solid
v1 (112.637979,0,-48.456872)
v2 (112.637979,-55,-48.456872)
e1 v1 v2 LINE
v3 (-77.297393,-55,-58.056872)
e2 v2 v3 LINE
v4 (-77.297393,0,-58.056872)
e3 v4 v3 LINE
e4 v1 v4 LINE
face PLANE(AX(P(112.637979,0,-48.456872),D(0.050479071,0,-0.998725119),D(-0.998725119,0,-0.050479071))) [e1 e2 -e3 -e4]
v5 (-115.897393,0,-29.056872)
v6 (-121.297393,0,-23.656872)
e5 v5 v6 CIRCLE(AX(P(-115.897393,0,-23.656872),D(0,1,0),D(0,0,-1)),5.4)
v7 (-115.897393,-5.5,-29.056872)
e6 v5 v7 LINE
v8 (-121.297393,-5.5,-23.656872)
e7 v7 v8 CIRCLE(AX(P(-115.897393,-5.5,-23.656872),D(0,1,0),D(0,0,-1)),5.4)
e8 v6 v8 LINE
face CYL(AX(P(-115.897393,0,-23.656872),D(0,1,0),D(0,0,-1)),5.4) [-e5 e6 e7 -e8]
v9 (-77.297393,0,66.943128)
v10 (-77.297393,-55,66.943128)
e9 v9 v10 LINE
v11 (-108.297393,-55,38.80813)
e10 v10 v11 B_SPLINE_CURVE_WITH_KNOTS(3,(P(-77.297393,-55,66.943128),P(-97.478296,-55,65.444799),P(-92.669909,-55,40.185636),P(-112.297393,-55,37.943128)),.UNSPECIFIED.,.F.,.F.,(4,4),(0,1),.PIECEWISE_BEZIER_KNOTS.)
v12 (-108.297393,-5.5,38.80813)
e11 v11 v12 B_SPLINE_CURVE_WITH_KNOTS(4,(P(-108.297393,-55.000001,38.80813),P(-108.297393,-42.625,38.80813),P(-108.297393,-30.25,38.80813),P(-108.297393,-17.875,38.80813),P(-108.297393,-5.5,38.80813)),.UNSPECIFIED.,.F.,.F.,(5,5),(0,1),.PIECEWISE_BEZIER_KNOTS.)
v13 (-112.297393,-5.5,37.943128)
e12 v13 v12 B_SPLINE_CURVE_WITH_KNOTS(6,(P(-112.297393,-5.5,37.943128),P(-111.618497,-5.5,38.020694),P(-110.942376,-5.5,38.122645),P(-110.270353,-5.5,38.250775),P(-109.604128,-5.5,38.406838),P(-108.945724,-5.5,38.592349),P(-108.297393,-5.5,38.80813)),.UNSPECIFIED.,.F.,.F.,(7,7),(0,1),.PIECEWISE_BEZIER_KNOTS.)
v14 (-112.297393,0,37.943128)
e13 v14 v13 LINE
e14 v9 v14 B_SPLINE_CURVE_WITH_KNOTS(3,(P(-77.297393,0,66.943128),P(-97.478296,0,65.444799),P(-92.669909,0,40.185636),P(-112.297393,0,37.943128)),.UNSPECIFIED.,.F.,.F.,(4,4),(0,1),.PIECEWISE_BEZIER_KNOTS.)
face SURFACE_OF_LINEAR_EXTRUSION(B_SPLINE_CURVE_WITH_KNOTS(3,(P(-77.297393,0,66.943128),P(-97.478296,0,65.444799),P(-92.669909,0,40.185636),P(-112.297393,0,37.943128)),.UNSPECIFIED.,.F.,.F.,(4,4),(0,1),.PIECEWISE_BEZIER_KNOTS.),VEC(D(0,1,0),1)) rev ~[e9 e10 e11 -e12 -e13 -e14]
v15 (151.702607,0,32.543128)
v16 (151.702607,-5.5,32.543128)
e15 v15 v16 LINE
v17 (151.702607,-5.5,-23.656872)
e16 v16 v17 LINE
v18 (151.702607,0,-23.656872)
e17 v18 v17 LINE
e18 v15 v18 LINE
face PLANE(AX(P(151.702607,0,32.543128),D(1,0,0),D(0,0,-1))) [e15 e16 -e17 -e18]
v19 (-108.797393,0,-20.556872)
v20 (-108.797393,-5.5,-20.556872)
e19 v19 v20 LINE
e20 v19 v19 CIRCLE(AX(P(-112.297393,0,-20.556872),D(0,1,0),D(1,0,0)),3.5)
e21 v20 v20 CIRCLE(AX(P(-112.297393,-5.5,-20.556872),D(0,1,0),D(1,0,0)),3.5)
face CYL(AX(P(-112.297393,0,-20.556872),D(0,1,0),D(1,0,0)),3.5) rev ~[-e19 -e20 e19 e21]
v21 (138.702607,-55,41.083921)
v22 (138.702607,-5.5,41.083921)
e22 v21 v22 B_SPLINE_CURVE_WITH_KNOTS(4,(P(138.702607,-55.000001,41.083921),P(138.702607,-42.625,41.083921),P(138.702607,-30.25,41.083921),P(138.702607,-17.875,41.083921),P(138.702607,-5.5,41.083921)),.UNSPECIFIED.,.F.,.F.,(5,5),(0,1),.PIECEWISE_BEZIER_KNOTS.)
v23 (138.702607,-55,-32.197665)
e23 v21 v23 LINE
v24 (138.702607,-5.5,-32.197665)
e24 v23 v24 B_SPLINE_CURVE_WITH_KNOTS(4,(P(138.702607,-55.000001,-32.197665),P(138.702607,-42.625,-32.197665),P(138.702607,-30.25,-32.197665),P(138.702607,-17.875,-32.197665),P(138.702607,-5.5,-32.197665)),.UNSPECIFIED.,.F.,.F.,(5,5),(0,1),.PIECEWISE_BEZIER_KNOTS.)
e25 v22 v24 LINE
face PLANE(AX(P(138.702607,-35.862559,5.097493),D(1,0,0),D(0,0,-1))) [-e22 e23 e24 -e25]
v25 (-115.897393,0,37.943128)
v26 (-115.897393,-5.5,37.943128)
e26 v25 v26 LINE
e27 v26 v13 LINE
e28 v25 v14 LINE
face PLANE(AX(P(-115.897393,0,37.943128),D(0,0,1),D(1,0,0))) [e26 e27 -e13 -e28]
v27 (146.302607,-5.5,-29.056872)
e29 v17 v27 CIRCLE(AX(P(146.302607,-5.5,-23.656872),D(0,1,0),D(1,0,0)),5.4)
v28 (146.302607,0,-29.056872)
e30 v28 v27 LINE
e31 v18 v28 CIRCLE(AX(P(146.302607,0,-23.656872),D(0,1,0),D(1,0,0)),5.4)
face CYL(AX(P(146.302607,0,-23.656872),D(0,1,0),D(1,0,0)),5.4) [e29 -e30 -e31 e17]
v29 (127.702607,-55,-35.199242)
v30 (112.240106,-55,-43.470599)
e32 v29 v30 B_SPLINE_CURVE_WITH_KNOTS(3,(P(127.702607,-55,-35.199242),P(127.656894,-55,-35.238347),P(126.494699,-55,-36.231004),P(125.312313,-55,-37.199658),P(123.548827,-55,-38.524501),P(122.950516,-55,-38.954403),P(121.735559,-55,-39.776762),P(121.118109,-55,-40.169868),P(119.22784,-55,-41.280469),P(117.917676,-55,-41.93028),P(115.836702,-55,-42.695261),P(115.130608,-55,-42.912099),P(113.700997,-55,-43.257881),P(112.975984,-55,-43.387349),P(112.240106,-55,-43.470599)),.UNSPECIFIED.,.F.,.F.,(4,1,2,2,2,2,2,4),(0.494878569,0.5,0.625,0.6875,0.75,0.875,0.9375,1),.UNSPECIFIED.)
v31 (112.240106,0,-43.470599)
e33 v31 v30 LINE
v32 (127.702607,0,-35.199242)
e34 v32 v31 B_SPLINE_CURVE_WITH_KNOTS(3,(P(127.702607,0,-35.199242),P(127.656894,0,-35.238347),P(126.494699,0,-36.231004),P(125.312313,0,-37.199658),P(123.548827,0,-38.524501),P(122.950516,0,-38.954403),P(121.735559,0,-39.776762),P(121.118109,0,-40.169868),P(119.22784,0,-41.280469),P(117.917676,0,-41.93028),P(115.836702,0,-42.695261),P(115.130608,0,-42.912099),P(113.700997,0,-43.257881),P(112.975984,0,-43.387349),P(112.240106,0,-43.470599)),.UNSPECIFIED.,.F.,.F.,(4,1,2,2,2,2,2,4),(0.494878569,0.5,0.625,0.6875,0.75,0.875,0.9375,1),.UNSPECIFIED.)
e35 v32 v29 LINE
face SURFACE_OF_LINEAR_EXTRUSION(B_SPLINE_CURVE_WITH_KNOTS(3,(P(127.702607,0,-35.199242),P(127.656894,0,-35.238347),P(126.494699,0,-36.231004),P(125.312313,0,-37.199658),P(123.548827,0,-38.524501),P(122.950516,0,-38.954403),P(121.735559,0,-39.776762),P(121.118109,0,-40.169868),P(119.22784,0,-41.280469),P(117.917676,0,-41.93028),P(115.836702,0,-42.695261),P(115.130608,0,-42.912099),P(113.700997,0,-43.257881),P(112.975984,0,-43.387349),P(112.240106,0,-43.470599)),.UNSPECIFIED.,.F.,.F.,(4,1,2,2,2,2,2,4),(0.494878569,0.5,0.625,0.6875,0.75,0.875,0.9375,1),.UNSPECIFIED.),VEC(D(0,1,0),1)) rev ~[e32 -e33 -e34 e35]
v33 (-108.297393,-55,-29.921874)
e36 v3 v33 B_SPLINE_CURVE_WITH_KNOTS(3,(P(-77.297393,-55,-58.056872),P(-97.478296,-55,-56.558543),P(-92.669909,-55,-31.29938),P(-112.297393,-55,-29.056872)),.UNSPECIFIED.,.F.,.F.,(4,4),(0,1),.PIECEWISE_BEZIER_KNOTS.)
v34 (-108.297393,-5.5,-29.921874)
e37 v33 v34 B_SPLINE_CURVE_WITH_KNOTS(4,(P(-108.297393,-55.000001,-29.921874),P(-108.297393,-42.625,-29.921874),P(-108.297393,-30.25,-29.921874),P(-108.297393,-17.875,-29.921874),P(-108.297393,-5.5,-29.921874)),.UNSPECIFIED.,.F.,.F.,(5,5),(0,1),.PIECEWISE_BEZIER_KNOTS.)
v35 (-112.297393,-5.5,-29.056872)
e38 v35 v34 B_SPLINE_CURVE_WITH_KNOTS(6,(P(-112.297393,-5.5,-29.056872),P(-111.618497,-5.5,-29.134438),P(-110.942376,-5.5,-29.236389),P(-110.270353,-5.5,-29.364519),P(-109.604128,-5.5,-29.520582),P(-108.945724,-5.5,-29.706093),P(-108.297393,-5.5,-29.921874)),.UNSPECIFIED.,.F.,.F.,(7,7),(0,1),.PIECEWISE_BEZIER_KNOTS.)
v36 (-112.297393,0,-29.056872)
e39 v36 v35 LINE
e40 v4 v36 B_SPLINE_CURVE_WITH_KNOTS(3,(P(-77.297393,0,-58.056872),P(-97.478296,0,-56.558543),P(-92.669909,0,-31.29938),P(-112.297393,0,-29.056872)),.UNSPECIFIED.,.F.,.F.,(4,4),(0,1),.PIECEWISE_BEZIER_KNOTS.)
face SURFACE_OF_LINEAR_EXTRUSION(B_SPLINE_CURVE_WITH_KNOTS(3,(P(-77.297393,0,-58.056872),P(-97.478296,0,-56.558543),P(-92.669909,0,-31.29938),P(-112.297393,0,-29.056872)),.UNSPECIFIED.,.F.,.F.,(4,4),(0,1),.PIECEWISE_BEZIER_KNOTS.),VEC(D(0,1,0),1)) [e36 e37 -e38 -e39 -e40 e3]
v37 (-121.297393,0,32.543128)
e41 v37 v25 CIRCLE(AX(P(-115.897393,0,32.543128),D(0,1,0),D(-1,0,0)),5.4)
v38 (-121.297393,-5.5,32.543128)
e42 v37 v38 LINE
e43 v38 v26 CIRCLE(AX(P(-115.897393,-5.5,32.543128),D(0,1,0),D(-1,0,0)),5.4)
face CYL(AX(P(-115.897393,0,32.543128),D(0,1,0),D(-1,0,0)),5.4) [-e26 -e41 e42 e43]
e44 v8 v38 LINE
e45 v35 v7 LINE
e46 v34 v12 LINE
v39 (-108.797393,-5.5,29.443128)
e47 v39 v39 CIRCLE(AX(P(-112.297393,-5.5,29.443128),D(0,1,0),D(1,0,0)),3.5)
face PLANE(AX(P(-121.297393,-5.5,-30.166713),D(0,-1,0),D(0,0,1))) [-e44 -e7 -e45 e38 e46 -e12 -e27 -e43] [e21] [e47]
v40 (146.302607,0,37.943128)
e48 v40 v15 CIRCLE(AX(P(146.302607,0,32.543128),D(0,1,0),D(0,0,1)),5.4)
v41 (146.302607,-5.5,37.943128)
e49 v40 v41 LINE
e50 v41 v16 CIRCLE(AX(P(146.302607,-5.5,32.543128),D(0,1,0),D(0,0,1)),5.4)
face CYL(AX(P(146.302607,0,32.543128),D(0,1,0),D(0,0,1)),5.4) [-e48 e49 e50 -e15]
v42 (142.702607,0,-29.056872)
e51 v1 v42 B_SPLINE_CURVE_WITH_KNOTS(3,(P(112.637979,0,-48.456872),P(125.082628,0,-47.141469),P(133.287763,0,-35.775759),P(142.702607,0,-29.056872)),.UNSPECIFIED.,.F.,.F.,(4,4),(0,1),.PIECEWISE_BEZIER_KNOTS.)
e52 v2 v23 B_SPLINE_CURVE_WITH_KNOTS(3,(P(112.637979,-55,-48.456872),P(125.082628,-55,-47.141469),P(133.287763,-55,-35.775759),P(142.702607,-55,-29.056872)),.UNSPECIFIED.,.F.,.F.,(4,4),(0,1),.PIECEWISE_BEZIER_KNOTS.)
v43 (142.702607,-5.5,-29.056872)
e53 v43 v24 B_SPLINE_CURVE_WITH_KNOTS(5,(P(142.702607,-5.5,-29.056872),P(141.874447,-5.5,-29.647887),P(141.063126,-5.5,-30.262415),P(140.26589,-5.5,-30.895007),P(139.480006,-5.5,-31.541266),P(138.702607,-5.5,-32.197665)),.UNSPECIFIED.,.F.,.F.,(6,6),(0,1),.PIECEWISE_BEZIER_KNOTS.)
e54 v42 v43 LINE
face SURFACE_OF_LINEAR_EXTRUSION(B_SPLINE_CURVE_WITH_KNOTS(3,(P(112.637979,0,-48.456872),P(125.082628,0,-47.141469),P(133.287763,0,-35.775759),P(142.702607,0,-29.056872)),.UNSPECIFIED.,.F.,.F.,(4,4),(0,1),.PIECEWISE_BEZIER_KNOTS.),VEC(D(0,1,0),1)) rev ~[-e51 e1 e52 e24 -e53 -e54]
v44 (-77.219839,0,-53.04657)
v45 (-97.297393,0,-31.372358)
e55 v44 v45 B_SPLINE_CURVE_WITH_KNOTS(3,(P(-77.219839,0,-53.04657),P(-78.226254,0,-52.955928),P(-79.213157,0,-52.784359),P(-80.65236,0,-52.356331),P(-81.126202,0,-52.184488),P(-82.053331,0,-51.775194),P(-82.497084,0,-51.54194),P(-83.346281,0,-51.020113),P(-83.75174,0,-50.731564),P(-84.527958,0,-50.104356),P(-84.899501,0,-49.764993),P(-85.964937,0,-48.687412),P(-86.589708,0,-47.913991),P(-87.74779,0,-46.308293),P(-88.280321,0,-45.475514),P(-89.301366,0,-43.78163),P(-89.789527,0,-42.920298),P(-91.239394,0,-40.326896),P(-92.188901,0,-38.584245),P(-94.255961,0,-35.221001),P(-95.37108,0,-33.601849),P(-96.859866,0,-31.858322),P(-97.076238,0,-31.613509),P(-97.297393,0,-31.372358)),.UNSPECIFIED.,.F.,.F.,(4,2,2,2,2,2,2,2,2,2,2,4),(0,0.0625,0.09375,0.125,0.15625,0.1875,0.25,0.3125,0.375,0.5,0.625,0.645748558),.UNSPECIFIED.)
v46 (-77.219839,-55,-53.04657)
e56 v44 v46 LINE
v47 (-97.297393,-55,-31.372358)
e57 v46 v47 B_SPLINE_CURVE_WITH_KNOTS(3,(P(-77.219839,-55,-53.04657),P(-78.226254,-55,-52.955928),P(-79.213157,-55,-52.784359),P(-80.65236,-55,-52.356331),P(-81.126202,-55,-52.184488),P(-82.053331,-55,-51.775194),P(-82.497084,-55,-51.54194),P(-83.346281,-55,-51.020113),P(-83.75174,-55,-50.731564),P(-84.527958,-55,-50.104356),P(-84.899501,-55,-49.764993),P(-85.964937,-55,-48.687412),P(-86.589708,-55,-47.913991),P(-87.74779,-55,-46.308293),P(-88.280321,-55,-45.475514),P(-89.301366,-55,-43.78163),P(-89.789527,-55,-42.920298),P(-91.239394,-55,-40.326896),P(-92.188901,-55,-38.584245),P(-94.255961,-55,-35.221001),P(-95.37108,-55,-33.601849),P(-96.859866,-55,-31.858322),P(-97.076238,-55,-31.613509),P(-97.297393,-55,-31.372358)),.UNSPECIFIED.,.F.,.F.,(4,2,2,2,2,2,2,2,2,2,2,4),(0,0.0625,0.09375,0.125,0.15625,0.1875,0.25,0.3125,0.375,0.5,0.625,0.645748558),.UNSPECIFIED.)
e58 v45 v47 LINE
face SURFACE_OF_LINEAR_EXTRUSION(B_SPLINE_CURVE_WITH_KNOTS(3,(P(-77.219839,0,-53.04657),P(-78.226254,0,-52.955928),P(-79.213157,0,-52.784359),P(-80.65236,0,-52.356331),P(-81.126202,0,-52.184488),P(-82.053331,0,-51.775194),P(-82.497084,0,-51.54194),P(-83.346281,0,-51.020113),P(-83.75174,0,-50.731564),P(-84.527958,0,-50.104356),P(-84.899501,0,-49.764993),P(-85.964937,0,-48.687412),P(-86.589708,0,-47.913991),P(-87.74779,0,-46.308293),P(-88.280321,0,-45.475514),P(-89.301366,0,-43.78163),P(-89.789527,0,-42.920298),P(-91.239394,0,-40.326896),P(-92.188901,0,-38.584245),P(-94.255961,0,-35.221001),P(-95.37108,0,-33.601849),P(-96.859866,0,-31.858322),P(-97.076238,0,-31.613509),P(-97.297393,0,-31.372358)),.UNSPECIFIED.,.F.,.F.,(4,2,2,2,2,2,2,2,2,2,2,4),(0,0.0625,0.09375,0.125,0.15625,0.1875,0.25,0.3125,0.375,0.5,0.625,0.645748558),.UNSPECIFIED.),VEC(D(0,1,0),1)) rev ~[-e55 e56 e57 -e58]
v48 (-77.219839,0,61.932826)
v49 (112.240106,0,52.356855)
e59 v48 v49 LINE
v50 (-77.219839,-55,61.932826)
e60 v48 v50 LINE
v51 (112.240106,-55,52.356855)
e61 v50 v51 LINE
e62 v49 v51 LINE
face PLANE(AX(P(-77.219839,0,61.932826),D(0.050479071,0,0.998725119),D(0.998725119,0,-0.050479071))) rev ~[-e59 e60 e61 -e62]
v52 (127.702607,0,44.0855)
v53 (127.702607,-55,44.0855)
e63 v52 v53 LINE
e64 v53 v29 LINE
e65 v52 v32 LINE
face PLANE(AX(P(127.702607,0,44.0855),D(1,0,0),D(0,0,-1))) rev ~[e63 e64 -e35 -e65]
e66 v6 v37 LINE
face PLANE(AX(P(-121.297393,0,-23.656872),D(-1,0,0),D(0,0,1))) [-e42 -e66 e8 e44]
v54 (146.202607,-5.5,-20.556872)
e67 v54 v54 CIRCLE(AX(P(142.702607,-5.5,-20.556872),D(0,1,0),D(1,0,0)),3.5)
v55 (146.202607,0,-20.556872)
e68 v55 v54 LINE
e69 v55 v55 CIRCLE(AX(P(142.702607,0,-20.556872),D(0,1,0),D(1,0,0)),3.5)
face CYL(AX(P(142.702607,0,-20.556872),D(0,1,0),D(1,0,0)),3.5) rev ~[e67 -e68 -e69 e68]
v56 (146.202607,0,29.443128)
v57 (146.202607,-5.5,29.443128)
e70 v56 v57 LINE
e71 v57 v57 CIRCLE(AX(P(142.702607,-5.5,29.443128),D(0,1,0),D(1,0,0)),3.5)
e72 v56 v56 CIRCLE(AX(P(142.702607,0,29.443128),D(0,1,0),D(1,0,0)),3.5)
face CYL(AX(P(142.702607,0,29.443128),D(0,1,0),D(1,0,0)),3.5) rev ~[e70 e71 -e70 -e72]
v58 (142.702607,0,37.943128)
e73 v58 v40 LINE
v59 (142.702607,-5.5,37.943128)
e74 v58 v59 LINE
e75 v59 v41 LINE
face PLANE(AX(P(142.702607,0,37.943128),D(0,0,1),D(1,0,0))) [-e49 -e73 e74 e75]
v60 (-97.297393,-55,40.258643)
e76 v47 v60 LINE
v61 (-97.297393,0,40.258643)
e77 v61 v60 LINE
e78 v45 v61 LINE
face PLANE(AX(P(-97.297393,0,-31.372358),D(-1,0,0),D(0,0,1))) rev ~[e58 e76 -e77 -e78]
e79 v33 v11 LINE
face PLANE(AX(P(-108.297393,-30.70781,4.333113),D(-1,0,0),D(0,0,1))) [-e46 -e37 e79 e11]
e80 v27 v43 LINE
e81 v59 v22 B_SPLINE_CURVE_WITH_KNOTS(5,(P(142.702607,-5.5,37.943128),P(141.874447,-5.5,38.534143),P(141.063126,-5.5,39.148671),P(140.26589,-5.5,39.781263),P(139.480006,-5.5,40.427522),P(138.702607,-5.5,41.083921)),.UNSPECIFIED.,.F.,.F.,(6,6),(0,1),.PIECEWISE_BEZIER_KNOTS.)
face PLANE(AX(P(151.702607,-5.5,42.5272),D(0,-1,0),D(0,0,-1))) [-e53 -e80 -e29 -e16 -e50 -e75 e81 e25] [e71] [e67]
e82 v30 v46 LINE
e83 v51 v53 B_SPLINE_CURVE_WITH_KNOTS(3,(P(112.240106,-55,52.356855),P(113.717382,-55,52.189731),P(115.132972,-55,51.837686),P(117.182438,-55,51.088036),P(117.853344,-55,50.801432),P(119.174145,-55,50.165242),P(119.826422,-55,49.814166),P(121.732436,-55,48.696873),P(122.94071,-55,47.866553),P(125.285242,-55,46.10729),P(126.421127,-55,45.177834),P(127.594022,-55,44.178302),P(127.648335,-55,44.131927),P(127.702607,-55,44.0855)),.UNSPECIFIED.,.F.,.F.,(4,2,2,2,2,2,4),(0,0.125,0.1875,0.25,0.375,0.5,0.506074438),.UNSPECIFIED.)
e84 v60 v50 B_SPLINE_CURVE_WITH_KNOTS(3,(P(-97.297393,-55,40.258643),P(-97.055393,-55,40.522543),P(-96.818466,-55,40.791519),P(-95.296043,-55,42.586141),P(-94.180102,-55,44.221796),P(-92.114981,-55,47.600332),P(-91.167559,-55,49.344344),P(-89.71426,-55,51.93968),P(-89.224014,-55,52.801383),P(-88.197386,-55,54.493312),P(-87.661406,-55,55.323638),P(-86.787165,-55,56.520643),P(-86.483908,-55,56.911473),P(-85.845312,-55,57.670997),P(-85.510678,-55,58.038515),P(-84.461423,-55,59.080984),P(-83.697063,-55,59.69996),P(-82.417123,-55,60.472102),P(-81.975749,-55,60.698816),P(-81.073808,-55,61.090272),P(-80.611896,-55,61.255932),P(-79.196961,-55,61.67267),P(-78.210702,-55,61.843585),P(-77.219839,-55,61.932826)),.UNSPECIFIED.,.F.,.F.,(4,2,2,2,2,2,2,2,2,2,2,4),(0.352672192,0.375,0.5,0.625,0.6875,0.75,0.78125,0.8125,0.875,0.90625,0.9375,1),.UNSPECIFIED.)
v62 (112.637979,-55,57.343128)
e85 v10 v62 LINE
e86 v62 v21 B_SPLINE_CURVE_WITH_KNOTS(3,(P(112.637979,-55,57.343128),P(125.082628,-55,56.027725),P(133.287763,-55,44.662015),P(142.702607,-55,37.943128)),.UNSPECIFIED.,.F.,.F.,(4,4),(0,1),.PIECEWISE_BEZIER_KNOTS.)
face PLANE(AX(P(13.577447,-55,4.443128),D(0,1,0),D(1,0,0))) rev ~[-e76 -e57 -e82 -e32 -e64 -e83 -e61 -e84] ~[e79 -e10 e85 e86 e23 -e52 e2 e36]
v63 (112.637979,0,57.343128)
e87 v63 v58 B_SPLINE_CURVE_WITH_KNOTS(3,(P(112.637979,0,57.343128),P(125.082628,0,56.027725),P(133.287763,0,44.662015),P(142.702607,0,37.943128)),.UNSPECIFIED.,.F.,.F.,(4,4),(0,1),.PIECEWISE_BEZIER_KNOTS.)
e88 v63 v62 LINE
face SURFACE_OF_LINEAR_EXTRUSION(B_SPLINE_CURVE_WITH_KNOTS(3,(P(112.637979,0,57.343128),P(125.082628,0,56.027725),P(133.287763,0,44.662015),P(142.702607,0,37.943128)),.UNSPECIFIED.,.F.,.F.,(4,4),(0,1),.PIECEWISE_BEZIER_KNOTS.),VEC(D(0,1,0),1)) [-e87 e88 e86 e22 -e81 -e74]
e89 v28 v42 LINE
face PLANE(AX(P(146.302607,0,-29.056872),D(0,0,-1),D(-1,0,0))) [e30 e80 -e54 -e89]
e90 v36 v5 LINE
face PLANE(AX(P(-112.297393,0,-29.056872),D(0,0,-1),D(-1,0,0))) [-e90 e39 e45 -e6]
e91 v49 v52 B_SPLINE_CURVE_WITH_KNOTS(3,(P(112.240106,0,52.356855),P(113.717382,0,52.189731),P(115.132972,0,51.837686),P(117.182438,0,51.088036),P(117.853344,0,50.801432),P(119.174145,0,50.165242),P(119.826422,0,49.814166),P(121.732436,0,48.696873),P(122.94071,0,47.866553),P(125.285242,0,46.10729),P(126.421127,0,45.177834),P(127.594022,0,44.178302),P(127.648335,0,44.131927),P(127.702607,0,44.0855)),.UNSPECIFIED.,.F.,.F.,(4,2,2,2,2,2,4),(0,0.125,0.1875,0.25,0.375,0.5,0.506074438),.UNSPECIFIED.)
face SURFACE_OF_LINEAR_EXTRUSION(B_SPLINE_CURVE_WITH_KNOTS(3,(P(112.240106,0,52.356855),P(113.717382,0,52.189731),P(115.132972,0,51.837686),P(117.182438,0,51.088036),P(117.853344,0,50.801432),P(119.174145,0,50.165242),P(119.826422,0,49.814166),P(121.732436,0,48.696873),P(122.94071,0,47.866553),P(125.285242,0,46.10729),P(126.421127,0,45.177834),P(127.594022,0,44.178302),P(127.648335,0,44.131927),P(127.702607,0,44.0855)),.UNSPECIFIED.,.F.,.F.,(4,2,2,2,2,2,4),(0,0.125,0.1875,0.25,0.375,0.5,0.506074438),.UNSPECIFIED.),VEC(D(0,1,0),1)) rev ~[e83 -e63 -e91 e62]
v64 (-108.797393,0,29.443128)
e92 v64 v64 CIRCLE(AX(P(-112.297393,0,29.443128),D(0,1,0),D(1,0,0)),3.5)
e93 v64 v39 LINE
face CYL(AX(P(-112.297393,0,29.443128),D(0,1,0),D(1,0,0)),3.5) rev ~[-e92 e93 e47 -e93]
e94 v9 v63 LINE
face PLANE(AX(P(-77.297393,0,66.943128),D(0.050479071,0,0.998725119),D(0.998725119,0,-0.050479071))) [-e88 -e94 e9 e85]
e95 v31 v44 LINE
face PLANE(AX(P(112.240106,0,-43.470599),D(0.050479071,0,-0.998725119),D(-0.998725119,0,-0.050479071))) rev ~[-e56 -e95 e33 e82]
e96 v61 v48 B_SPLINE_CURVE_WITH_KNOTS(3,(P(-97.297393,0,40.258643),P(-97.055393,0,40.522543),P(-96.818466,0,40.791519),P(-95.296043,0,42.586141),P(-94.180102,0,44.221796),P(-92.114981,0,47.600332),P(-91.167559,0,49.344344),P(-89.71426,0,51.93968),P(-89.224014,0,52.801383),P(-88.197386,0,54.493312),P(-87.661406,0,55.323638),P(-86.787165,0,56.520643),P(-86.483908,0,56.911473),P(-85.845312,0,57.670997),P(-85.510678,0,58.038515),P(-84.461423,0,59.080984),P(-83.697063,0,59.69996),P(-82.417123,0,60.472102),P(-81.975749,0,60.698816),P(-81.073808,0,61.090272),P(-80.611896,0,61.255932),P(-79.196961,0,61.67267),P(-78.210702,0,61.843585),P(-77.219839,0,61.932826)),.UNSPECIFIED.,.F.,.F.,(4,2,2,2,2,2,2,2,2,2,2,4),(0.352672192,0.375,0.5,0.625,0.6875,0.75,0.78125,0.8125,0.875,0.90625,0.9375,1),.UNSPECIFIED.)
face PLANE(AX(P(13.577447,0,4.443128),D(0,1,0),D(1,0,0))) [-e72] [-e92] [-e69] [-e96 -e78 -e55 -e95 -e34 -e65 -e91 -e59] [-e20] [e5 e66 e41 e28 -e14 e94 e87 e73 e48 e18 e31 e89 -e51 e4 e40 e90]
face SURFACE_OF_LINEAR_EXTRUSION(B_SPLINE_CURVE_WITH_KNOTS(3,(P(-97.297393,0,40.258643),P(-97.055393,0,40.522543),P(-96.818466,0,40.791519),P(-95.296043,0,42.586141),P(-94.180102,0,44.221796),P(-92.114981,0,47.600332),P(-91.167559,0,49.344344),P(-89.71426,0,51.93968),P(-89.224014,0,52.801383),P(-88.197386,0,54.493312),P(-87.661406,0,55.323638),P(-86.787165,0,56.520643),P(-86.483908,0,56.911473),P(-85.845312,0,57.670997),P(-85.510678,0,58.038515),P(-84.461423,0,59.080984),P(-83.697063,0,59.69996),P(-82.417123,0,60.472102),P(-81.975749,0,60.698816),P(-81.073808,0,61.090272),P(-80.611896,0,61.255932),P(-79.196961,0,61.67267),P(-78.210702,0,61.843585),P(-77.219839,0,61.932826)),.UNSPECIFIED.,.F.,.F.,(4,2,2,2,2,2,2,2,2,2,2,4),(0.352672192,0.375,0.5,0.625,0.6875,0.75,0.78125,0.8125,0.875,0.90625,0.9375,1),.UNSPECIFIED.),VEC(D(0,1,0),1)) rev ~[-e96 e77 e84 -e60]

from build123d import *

# Parameters (mm, degrees)
SKETCH1_R           = 3.5
BOSS_EXTRUDE2_DEPTH = 55
SKETCH7_W           = 68.999652055
SKETCH7_H           = 50.415620377
CUT_EXTRUDE5_DEPTH  = 13
SKETCH19_W          = 74.859412742
SKETCH19_H          = 60.725118028
CUT_EXTRUDE7_DEPTH  = 13
CUT_EXTRUDE9_DEPTH  = 55


with BuildPart() as part:
    # Sketch1 → Boss-Extrude2 (new body)
    with BuildSketch(Plane(origin=(0, 0, 0), x_dir=(1, 0, 0), z_dir=(0, 1, 0))):
        with BuildLine():
            Line((-77.297393365, -66.943127962), (112.637979465, -57.343127962))
            add(Edge.make_bspline(
                [(112.637979465, -57.343127962), (125.082628436, -56.027724614), (133.287763268, -44.662014668), (142.702606635, -37.943127962)],
                knots=[0, 0, 0, 0, 1, 1, 1, 1], degree=3))
            Line((142.702606635, -37.943127962), (146.202606635, -37.943127962))
            Line((146.202606635, -37.943127962), (146.302606635, -37.943127962))
            ThreePointArc((146.302606635, -37.943127962), (150.120983253, -36.36150458), (151.702606635, -32.543127962))
            Line((151.702606635, -32.543127962), (151.702606635, 23.656872038))
            ThreePointArc((151.702606635, 23.656872038), (150.120983253, 27.475248656), (146.302606635, 29.056872038))
            Line((146.302606635, 29.056872038), (146.202606635, 29.056872038))
            Line((146.202606635, 29.056872038), (142.702606635, 29.056872038))
            add(Edge.make_bspline(
                [(112.637979465, 48.456872038), (125.082628436, 47.14146869), (133.287763268, 35.775758744), (142.702606635, 29.056872038)],
                knots=[0, 0, 0, 0, 1, 1, 1, 1], degree=3))
            Line((112.637979465, 48.456872038), (-77.297393365, 58.056872038))
            add(Edge.make_bspline(
                [(-77.297393365, 58.056872038), (-97.47829568, 56.558543187), (-92.669908534, 31.299380259), (-112.297393365, 29.056872038)],
                knots=[0, 0, 0, 0, 1, 1, 1, 1], degree=3))
            Line((-112.297393365, 29.056872038), (-115.797393365, 29.056872038))
            Line((-115.797393365, 29.056872038), (-115.897393365, 29.056872038))
            ThreePointArc((-115.897393365, 29.056872038), (-119.715769983, 27.475248656), (-121.297393365, 23.656872038))
            Line((-121.297393365, 23.656872038), (-121.297393365, -32.543127962))
            ThreePointArc((-121.297393365, -32.543127962), (-119.715769983, -36.36150458), (-115.897393365, -37.943127962))
            Line((-115.897393365, -37.943127962), (-115.797393365, -37.943127962))
            Line((-115.797393365, -37.943127962), (-112.297393365, -37.943127962))
            add(Edge.make_bspline(
                [(-77.297393365, -66.943127962), (-97.47829568, -65.444799111), (-92.669908534, -40.185636183), (-112.297393365, -37.943127962)],
                knots=[0, 0, 0, 0, 1, 1, 1, 1], degree=3))
        make_face()
        with Locations((-112.297393365, 20.556872038)):
            Circle(SKETCH1_R, mode=Mode.SUBTRACT)
        with Locations((-112.297393365, -29.443127962)):
            Circle(SKETCH1_R, mode=Mode.SUBTRACT)
        with Locations((142.702606635, -29.443127962)):
            Circle(SKETCH1_R, mode=Mode.SUBTRACT)
        with Locations((142.702606635, 20.556872038)):
            Circle(SKETCH1_R, mode=Mode.SUBTRACT)
    extrude(amount=-BOSS_EXTRUDE2_DEPTH)

    # Sketch7 → Cut-Extrude5 (cut)
    with BuildSketch(Plane.ZY.offset(121.297393365)):
        with Locations((4.333112833, -30.707810189)):
            Rectangle(SKETCH7_W, SKETCH7_H)
    extrude(amount=-CUT_EXTRUDE5_DEPTH, mode=Mode.SUBTRACT)

    # Sketch19 → Cut-Extrude7 (cut)
    with BuildSketch(Plane(origin=(151.702606635, 0, 0), x_dir=(0, 0, -1), z_dir=(1, 0, 0))):
        with Locations((-5.097493458, -35.862559014)):
            Rectangle(SKETCH19_W, SKETCH19_H)
    extrude(amount=-CUT_EXTRUDE7_DEPTH, mode=Mode.SUBTRACT)

    # Sketch24 → Cut-Extrude9 (cut)
    with BuildSketch(Plane(origin=(0, 0, 0), x_dir=(1, 0, 0), z_dir=(0, 1, 0))):
        with BuildLine():
            Line((-97.297393365, 31.372357528), (-97.297393365, -40.258643174))
            add(Edge.make_bspline(
                [(-97.297393365, -40.258643174), (-97.055392699, -40.522543308), (-96.818465561, -40.791519395), (-95.29604309, -42.586141239), (-94.180102109, -44.221795649), (-92.114981147, -47.600331907), (-91.167558943, -49.344344007), (-89.714260063, -51.939679671), (-89.224013692, -52.801383116), (-88.197386212, -54.493312492), (-87.661405753, -55.323638026), (-86.787164869, -56.520642624), (-86.483908233, -56.911472942), (-85.845311529, -57.670997258), (-85.510678135, -58.038515471), (-84.461423347, -59.080983609), (-83.697062972, -59.699960103), (-82.417122679, -60.472101656), (-81.975749173, -60.698816325), (-81.073807536, -61.09027214), (-80.611895531, -61.255932259), (-79.196960523, -61.672670039), (-78.210701758, -61.84358461), (-77.219838786, -61.93282554)],
                knots=[0.352672192, 0.352672192, 0.352672192, 0.352672192, 0.375, 0.375, 0.5, 0.5, 0.625, 0.625, 0.6875, 0.6875, 0.75, 0.75, 0.78125, 0.78125, 0.8125, 0.8125, 0.875, 0.875, 0.90625, 0.90625, 0.9375, 0.9375, 1, 1, 1, 1], degree=3))
            Line((-77.219838786, -61.93282554), (112.240105599, -52.356855361))
            add(Edge.make_bspline(
                [(112.240105599, -52.356855361), (113.717382254, -52.189730891), (115.132971643, -51.8376863), (117.182437857, -51.088035578), (117.853343768, -50.801431656), (119.174145437, -50.165241611), (119.826422425, -49.814165646), (121.732436005, -48.696872923), (122.940710016, -47.866553193), (125.285242411, -46.107289747), (126.421126606, -45.177833586), (127.59402171, -44.178301992), (127.648334729, -44.131926563), (127.702606635, -44.085499704)],
                knots=[0, 0, 0, 0, 0.125, 0.125, 0.1875, 0.1875, 0.25, 0.25, 0.375, 0.375, 0.5, 0.5, 0.506074438, 0.506074438, 0.506074438, 0.506074438], degree=3))
            Line((127.702606635, -44.085499704), (127.702606635, 35.199241787))
            add(Edge.make_bspline(
                [(127.702606635, 35.199241787), (127.656893723, 35.238347374), (126.494699106, 36.231003566), (125.312312668, 37.199657877), (123.548827323, 38.524500877), (122.950515573, 38.954402998), (121.735559113, 39.776761834), (121.118108697, 40.169868377), (119.227839741, 41.28046867), (117.917675896, 41.930280463), (115.836701988, 42.695260765), (115.130607863, 42.912098814), (113.700996756, 43.257880714), (112.975983658, 43.387349472), (112.240105599, 43.470599437)],
                knots=[0.494878569, 0.494878569, 0.494878569, 0.494878569, 0.5, 0.625, 0.625, 0.6875, 0.6875, 0.75, 0.75, 0.875, 0.875, 0.9375, 0.9375, 1, 1, 1, 1], degree=3))
            Line((112.240105599, 43.470599437), (-77.219838786, 53.046569616))
            add(Edge.make_bspline(
                [(-77.219838786, 53.046569616), (-78.226254375, 52.955927957), (-79.213157443, 52.784359124), (-80.65236022, 52.356330798), (-81.126202061, 52.184487982), (-82.053330615, 51.775193987), (-82.497083796, 51.5419399), (-83.346280845, 51.020113337), (-83.751740407, 50.731563524), (-84.52795848, 50.104355813), (-84.899500865, 49.764992502), (-85.964937473, 48.68741183), (-86.589708432, 47.913990928), (-87.747790314, 46.308292885), (-88.280321037, 45.475513671), (-89.301365793, 43.781629681), (-89.789527485, 42.920298168), (-91.239394158, 40.326896414), (-92.188900691, 38.584245442), (-94.255960588, 35.221000735), (-95.371079537, 33.60184943), (-96.859865551, 31.858322069), (-97.076237995, 31.613508704), (-97.297393365, 31.372357528)],
                knots=[0, 0, 0, 0, 0.0625, 0.0625, 0.09375, 0.09375, 0.125, 0.125, 0.15625, 0.15625, 0.1875, 0.1875, 0.25, 0.25, 0.3125, 0.3125, 0.375, 0.375, 0.5, 0.5, 0.625, 0.625, 0.645748558, 0.645748558, 0.645748558, 0.645748558], degree=3))
        make_face()
    extrude(amount=-CUT_EXTRUDE9_DEPTH, mode=Mode.SUBTRACT)


solid = part.part
